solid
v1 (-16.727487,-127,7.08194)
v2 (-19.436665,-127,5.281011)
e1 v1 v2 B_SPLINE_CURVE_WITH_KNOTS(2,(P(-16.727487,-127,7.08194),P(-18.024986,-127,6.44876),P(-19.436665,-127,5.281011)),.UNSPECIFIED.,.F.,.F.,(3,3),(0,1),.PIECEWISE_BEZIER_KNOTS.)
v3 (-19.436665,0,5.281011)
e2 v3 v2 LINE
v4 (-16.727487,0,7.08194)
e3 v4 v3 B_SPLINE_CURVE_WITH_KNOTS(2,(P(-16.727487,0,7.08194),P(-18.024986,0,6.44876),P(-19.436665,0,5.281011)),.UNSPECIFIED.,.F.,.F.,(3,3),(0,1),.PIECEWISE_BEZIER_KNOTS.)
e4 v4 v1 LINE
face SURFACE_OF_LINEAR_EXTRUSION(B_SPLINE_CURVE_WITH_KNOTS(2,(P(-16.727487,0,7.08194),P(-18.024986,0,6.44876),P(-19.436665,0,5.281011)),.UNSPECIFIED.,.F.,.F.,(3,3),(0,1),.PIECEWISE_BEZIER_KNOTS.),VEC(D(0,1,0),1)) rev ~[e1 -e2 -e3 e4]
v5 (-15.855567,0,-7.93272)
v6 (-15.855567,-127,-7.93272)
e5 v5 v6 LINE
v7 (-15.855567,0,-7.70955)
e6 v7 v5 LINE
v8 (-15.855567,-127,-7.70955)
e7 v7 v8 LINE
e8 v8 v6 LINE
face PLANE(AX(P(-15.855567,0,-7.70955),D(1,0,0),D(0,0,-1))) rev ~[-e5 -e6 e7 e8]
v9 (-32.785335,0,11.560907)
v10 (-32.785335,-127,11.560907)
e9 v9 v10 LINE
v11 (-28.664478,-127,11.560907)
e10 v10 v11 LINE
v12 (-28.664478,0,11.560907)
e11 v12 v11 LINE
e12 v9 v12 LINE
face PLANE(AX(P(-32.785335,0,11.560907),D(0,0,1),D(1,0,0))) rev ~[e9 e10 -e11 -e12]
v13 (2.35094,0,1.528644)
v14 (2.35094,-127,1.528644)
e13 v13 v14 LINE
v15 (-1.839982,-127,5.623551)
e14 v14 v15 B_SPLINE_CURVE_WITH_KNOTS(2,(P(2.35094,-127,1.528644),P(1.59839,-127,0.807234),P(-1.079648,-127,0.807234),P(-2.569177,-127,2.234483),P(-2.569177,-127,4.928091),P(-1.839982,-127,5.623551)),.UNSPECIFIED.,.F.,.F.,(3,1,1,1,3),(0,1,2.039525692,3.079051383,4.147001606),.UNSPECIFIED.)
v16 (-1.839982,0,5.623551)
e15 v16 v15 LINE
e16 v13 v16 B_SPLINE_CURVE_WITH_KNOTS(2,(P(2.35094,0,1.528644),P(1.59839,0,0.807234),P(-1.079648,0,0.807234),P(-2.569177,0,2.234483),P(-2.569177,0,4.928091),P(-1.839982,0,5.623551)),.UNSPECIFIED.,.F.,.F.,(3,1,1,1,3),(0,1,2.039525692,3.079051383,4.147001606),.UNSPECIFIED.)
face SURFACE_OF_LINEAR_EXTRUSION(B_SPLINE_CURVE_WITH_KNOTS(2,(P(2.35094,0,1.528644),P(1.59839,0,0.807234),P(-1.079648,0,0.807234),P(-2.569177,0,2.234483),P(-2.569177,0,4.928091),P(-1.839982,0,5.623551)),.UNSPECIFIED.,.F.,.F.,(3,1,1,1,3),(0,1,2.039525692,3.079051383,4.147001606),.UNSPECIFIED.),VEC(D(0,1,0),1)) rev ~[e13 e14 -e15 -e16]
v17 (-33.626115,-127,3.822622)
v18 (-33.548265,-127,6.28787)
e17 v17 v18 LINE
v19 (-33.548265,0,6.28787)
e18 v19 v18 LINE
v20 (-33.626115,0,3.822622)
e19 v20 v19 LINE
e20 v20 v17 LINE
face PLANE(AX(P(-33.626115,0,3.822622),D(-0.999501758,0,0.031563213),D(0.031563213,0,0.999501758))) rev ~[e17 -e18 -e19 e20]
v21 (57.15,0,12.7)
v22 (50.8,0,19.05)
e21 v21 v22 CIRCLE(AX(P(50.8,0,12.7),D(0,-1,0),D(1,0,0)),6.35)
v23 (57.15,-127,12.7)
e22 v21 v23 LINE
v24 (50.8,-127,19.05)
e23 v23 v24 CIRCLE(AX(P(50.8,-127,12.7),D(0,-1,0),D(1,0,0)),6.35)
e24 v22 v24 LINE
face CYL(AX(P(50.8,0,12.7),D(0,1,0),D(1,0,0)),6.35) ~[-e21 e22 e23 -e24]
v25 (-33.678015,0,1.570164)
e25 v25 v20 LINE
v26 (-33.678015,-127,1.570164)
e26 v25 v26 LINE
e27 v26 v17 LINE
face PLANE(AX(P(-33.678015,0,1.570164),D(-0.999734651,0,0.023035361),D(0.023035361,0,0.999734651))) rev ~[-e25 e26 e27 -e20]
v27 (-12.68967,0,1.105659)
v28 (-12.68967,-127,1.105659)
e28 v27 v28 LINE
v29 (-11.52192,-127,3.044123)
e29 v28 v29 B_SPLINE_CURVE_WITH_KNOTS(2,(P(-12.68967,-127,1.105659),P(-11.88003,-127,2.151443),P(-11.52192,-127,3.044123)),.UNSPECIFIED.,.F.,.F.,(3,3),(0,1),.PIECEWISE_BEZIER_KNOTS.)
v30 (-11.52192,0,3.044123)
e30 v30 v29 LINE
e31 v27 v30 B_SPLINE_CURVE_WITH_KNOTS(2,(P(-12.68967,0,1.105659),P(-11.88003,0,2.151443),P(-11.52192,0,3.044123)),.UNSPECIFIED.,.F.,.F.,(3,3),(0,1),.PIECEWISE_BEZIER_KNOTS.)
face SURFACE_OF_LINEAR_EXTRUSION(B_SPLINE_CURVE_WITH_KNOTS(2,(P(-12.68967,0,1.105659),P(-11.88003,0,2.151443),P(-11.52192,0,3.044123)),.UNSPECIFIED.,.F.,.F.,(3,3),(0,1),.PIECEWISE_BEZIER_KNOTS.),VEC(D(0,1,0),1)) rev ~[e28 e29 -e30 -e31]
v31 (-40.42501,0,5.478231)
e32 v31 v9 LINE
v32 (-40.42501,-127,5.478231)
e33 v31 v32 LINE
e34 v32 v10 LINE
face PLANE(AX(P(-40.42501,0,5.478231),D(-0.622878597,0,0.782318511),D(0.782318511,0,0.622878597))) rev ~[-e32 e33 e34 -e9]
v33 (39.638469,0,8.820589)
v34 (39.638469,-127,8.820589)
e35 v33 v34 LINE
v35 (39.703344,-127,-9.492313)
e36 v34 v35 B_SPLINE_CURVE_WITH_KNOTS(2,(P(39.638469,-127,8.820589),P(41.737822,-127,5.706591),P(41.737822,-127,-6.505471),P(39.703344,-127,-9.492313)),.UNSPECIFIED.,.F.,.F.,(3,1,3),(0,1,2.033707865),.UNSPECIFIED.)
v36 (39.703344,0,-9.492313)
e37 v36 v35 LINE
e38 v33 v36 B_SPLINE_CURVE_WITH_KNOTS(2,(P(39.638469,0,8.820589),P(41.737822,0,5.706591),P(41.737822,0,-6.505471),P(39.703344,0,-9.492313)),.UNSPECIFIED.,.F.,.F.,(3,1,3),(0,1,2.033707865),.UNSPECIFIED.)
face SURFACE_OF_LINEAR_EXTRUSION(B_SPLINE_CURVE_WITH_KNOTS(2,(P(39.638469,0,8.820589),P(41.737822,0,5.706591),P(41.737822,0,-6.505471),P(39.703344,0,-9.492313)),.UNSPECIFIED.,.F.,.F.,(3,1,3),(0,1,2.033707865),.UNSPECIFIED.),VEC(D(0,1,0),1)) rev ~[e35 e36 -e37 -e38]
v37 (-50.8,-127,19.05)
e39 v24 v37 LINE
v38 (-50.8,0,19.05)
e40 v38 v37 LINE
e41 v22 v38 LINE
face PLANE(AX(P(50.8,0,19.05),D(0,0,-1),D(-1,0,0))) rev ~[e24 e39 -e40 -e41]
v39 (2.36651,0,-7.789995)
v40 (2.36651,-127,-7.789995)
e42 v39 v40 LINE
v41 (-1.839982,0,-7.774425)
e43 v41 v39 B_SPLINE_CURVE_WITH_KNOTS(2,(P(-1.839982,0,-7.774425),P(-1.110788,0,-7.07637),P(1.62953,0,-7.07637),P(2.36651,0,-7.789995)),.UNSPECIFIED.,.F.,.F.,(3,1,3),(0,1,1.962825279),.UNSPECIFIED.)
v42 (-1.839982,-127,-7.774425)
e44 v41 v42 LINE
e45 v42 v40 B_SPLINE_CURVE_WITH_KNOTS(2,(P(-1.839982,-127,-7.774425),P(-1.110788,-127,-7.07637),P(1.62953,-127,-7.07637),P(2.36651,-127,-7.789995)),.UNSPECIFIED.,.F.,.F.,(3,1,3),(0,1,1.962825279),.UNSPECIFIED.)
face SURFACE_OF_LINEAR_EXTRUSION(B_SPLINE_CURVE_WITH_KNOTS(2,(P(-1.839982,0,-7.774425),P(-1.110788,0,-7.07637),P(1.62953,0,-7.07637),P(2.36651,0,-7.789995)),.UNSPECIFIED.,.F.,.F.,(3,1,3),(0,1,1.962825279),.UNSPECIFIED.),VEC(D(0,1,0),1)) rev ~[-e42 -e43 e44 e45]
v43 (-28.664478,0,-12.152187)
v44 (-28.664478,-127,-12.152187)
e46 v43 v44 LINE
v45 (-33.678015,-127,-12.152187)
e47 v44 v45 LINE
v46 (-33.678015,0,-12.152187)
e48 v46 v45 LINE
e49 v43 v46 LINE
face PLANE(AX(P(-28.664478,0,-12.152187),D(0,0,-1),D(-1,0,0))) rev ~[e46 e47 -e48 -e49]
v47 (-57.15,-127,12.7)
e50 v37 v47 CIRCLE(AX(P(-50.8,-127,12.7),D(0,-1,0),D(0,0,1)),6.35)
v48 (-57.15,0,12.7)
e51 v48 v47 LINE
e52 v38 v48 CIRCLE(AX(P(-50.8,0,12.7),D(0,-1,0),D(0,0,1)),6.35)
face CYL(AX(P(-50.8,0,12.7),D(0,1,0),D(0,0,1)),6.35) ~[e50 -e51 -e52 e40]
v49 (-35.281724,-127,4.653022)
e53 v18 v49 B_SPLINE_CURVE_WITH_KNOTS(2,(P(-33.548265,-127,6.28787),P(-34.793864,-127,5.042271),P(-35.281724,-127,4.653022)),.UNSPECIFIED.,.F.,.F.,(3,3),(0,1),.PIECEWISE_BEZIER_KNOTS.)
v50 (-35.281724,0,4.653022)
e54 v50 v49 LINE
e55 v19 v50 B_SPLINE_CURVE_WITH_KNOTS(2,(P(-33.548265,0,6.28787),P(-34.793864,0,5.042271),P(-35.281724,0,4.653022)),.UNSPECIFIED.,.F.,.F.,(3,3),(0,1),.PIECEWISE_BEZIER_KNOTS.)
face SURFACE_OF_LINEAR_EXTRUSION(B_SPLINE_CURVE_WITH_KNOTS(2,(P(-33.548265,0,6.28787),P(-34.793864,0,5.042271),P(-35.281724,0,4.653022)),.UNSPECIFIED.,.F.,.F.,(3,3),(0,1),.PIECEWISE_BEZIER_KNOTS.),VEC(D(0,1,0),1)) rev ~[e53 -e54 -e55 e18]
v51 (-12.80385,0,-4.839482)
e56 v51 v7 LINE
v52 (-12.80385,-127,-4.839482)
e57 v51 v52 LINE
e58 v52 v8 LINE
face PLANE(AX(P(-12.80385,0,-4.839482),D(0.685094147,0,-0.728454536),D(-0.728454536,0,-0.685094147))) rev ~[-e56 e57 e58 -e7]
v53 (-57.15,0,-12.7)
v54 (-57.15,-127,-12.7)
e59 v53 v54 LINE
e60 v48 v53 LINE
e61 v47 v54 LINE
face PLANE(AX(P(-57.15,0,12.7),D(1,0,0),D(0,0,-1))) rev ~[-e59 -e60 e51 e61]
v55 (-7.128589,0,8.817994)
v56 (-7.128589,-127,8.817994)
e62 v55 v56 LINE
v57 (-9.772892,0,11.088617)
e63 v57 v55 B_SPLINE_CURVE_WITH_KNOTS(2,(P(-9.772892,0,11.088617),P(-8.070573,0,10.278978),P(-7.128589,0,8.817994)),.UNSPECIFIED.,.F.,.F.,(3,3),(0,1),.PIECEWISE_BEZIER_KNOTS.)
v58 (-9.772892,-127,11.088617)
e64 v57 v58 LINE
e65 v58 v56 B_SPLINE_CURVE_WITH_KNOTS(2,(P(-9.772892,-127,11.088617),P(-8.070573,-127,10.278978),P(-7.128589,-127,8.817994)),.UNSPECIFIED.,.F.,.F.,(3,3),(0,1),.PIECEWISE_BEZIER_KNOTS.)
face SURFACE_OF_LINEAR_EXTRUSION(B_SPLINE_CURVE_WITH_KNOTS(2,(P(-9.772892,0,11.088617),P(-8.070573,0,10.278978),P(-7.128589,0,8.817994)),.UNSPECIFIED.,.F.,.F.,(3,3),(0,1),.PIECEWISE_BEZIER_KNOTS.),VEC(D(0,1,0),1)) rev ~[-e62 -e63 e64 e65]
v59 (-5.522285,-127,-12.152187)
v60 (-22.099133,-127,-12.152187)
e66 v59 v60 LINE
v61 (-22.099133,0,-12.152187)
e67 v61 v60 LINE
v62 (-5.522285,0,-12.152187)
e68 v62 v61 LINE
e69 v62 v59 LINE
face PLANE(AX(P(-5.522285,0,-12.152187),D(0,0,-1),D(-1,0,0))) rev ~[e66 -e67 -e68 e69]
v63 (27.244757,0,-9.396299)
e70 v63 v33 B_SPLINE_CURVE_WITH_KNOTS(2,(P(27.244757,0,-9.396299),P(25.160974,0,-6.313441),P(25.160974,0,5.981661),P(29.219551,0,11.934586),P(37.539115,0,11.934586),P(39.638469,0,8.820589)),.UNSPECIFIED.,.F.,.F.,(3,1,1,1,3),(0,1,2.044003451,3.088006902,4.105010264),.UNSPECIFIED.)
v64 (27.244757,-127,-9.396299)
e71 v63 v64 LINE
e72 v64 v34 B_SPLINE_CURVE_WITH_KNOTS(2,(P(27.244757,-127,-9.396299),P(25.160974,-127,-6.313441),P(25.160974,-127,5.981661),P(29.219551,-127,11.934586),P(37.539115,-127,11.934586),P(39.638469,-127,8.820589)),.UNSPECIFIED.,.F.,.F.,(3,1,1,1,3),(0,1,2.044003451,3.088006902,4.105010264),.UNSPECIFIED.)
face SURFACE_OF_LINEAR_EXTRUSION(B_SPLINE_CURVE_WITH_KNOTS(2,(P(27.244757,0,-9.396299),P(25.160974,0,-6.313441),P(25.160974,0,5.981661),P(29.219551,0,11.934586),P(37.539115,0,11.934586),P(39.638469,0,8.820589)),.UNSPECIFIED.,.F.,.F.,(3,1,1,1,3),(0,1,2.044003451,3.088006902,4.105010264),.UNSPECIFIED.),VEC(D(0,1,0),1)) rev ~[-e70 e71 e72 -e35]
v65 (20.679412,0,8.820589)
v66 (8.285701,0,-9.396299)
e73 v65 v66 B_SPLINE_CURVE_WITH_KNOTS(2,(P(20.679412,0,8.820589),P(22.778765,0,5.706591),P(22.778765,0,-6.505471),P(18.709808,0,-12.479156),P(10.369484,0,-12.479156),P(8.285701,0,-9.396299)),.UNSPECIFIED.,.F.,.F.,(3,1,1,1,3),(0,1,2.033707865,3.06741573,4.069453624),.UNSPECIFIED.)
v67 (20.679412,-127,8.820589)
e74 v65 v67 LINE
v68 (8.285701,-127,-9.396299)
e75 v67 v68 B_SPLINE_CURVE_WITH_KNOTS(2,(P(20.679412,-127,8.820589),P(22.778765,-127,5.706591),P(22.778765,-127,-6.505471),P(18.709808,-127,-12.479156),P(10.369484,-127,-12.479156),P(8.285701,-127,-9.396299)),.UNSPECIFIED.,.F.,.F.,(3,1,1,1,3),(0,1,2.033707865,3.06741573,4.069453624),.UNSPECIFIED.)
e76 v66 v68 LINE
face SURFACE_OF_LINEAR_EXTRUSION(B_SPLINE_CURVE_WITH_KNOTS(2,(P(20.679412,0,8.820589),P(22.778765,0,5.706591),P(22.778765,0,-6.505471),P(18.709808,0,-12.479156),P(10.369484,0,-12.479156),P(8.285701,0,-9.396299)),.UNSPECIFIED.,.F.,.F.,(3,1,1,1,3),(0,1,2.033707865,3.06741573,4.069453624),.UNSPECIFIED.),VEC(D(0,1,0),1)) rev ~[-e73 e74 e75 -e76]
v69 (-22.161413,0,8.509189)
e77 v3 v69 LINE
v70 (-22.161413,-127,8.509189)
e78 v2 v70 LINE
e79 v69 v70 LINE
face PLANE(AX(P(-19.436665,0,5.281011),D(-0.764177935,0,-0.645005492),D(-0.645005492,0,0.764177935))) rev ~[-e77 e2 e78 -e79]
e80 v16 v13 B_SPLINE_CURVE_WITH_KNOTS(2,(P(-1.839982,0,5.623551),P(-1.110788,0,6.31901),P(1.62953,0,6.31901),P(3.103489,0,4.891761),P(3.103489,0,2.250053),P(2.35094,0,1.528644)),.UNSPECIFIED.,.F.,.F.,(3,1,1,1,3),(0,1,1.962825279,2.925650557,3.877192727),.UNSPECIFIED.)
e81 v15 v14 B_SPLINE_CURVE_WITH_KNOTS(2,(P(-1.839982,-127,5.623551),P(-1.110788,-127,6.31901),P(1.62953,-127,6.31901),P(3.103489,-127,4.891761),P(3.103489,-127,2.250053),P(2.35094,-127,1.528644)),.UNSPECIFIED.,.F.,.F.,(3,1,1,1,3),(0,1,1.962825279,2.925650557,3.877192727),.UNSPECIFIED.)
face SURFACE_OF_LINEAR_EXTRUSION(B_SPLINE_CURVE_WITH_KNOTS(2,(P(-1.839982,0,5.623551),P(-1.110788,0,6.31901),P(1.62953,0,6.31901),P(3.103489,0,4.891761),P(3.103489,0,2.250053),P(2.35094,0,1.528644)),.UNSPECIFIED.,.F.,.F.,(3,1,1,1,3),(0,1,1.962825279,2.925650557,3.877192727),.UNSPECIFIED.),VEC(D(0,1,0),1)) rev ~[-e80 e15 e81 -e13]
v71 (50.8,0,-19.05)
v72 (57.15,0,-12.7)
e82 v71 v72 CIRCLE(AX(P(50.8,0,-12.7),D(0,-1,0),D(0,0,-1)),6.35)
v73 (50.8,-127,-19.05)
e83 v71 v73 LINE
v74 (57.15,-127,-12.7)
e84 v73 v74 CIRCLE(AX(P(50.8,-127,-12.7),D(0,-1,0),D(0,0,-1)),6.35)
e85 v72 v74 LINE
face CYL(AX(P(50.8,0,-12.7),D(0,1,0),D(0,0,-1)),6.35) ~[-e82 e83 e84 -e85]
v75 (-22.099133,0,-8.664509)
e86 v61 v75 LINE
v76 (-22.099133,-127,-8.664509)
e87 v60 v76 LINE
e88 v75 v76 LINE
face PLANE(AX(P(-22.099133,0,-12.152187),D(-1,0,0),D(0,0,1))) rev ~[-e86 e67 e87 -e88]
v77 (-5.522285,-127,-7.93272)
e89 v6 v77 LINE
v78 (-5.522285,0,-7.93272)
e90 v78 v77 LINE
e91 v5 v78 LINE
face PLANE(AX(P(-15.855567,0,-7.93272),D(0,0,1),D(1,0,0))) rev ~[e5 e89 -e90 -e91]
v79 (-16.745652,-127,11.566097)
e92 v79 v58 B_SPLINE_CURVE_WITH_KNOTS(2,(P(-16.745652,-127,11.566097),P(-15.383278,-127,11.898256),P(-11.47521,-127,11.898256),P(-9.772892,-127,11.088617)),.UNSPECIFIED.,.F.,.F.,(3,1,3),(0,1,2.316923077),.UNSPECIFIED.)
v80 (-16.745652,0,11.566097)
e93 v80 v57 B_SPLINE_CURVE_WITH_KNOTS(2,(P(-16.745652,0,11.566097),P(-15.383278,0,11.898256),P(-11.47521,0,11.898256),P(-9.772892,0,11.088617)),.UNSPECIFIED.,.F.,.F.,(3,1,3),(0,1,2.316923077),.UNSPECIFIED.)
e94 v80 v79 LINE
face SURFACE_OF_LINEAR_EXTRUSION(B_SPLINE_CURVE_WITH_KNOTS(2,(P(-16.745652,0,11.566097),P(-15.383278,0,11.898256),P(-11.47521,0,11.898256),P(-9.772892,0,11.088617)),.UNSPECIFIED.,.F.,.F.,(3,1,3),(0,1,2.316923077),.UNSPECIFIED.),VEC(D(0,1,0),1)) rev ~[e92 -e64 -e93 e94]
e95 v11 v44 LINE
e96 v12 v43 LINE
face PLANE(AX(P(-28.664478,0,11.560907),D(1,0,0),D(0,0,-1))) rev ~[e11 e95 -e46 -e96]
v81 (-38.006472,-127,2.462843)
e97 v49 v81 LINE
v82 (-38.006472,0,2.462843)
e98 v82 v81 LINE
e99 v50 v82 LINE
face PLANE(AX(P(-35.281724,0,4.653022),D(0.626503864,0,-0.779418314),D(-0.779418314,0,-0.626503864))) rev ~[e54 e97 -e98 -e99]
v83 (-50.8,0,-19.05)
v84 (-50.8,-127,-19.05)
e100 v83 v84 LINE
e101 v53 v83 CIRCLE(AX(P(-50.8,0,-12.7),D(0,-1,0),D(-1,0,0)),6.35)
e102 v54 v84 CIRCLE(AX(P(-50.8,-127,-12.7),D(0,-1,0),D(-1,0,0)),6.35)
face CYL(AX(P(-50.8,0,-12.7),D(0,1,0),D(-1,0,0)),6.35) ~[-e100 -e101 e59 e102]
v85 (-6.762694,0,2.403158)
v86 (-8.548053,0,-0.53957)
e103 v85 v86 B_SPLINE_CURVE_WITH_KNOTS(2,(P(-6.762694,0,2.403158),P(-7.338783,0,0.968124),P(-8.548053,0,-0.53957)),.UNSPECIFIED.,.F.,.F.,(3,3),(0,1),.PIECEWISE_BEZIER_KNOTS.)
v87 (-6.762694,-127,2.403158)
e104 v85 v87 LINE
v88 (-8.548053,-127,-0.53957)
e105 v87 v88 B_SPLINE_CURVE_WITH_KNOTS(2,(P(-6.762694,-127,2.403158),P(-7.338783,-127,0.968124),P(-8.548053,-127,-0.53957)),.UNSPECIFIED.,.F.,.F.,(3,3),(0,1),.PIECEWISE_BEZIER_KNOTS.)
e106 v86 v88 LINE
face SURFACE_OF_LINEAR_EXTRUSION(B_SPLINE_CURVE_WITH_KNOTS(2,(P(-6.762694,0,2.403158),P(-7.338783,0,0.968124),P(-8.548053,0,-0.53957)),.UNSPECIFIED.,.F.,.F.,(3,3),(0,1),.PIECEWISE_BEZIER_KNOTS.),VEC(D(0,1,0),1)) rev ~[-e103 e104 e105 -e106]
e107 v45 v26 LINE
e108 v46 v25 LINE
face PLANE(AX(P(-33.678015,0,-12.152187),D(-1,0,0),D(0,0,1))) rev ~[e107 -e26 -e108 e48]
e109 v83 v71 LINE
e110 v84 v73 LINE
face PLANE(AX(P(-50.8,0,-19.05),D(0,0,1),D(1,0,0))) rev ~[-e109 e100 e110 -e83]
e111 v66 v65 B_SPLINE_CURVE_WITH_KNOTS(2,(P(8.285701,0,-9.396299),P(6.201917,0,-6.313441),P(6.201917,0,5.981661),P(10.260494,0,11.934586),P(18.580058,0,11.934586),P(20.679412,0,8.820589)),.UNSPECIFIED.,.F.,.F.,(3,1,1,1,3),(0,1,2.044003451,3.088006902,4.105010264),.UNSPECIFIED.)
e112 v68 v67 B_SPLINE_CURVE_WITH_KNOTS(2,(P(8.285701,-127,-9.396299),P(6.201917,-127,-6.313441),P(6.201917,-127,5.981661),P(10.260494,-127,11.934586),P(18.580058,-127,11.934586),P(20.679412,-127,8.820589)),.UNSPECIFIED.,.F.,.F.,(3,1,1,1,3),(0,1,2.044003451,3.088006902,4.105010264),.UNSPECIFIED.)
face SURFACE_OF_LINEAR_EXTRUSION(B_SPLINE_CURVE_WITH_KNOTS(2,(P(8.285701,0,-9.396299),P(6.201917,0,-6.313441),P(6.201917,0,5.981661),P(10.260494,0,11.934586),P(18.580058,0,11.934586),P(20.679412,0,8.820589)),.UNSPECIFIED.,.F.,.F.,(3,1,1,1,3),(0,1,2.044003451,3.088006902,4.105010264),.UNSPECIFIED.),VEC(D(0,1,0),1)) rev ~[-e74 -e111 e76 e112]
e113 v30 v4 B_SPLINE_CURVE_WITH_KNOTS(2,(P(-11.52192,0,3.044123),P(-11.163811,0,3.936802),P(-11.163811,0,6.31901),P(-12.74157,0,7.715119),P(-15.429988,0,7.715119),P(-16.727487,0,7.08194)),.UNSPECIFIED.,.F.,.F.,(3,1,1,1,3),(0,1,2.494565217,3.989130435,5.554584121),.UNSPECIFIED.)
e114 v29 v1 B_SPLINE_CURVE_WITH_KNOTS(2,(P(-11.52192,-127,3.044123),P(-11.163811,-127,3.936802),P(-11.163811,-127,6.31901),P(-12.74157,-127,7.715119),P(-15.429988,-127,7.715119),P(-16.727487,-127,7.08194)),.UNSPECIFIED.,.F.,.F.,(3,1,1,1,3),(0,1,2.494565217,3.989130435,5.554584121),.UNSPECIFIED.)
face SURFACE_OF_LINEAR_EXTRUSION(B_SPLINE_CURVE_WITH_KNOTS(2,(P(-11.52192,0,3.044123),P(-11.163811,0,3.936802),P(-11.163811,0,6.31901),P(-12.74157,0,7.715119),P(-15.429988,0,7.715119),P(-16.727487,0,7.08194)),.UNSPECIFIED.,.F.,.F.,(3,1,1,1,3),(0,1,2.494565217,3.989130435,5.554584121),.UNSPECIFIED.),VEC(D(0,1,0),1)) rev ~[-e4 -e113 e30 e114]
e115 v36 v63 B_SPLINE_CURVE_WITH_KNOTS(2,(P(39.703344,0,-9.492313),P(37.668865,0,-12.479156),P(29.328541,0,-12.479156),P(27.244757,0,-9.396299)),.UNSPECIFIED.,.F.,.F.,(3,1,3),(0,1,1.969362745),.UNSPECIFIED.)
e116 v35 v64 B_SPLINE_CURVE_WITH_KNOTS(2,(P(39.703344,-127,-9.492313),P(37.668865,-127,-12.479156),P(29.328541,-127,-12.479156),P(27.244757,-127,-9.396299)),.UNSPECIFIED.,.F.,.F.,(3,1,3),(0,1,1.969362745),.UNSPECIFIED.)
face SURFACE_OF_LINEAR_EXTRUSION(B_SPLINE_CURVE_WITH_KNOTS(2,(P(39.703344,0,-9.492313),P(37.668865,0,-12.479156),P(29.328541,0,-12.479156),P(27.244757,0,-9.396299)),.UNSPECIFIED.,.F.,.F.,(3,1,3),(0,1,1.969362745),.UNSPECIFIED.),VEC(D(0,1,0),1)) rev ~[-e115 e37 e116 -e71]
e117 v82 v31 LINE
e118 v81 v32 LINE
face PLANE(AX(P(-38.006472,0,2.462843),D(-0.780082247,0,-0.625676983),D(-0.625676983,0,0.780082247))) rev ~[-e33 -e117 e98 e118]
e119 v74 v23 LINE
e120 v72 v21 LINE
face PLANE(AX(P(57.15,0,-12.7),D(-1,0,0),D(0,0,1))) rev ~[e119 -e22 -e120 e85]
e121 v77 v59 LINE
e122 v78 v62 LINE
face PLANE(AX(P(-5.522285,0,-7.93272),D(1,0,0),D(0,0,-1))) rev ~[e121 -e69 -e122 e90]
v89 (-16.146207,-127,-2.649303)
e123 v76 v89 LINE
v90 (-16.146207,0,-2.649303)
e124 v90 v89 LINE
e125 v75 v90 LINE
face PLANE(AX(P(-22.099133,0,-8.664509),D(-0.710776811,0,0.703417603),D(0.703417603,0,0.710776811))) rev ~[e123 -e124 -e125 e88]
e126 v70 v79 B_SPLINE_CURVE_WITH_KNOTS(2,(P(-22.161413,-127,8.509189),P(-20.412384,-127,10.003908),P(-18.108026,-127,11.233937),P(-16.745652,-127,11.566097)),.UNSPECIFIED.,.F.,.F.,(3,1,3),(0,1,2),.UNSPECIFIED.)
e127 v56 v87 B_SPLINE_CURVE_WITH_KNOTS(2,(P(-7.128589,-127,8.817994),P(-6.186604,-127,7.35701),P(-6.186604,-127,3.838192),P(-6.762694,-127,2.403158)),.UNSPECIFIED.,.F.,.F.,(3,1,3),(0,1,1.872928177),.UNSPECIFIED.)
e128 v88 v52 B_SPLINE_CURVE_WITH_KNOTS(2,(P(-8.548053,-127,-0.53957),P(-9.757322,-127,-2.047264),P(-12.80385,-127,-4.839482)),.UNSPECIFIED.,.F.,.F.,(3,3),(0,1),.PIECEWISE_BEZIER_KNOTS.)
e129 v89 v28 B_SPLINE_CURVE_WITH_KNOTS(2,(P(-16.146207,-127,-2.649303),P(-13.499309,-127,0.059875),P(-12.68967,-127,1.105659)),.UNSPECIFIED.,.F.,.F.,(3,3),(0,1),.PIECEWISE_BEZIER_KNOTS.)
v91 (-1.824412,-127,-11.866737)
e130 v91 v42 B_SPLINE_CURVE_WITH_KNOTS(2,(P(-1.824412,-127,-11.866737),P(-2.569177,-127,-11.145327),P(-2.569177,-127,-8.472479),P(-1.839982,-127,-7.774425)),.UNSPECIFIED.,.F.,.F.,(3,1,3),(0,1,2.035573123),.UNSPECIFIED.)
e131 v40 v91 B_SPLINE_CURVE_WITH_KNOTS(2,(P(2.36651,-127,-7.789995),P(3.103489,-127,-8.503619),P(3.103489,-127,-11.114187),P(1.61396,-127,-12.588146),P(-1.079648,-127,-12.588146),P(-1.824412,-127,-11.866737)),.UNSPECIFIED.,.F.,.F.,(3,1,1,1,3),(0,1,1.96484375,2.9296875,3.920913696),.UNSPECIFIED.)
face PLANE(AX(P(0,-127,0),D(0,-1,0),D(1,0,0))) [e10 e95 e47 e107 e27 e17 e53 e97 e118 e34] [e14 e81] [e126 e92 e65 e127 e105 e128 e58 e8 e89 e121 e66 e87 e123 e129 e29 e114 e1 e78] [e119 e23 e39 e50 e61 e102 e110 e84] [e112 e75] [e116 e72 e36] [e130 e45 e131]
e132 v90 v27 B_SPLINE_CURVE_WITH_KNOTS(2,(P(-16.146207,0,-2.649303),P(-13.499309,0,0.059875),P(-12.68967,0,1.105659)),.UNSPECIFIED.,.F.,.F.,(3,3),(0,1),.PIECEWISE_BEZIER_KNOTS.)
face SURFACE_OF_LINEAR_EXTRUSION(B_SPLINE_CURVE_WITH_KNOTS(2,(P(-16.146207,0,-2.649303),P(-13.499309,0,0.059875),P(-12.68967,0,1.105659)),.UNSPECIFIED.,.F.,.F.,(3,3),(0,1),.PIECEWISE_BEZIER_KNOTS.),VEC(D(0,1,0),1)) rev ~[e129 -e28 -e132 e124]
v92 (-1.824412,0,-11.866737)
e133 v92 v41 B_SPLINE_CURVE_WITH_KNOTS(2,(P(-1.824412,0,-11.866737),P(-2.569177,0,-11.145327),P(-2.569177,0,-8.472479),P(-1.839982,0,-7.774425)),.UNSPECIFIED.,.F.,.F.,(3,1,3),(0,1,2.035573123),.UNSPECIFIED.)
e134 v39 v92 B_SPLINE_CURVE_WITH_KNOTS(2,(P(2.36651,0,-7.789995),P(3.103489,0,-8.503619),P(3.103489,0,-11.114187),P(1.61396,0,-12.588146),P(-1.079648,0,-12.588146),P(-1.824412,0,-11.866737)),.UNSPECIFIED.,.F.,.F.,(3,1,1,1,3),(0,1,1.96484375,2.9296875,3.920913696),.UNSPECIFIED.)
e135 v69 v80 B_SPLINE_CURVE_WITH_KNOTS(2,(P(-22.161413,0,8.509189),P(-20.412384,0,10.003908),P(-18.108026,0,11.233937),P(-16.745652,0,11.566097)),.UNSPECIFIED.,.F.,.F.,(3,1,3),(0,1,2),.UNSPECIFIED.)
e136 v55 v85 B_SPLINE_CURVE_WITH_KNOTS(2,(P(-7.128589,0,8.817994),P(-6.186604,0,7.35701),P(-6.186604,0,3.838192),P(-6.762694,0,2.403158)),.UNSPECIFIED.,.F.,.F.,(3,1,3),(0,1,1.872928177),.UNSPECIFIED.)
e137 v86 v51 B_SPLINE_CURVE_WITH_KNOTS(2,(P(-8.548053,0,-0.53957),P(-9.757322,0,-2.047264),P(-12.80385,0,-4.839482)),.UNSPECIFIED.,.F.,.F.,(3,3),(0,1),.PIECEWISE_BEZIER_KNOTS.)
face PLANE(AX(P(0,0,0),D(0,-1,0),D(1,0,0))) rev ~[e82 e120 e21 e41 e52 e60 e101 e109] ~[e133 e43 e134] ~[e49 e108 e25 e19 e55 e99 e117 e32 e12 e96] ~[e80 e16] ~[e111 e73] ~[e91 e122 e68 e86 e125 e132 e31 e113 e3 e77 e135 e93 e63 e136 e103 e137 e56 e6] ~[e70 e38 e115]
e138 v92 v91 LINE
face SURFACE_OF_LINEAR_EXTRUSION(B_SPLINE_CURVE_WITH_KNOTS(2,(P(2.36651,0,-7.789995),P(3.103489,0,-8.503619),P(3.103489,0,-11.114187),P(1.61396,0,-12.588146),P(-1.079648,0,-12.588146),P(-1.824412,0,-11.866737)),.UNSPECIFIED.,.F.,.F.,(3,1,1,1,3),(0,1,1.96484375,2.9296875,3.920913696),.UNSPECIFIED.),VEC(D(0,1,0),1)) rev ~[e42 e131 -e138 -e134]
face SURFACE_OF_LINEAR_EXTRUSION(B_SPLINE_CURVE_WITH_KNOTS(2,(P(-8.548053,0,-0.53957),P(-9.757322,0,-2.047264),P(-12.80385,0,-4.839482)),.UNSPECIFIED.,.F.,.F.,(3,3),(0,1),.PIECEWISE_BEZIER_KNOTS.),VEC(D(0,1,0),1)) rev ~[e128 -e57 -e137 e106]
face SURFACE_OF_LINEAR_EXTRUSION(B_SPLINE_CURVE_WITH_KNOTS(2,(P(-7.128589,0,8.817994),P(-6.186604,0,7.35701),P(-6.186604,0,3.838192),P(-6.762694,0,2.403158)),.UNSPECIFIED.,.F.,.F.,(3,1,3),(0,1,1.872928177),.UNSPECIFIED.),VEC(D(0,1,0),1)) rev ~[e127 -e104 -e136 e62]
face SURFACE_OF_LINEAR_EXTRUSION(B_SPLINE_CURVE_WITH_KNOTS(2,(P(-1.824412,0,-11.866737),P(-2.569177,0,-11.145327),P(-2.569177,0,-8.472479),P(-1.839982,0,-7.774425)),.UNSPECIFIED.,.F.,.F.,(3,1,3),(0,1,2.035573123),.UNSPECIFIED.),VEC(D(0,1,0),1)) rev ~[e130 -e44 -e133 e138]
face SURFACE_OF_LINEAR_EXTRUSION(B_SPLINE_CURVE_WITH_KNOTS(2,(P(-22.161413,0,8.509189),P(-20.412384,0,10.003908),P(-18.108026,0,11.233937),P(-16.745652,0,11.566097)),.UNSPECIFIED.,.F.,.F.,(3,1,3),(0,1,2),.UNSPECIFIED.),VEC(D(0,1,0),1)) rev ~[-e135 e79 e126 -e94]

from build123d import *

# Parameters (mm, degrees)
F1_DEPTH = 127


with BuildPart() as f1:
    # F0 (on Front) → F1 (new body)
    with BuildSketch(Plane.XZ):
        with BuildLine():
            ThreePointArc((57.15, 12.7), (55.2901280605, 17.1901280605), (50.8, 19.05))
            Line((50.8, 19.05), (-50.8, 19.05))
            ThreePointArc((-50.8, 19.05), (-55.2901280605, 17.1901280605), (-57.15, 12.7))
            Line((-57.15, 12.7), (-57.15, -12.7))
            ThreePointArc((-57.15, -12.7), (-55.2901280605, -17.1901280605), (-50.8, -19.05))
            Line((-50.8, -19.05), (50.8, -19.05))
            ThreePointArc((50.8, -19.05), (55.2901280605, -17.1901280605), (57.15, -12.7))
            Line((57.15, -12.7), (57.15, 12.7))
        make_face()
        with BuildLine():
            Line((-28.6644783725, 11.5609067216), (-28.6644783725, -12.1521865949))
            Line((-28.6644783725, -12.1521865949), (-33.6780148452, -12.1521865949))
            Line((-33.6780148452, -12.1521865949), (-33.6780148452, 1.5701637506))
            Line((-33.6780148452, 1.5701637506), (-33.6261148817, 3.8226221659))
            Line((-33.6261148817, 3.8226221659), (-33.5482649364, 6.2878704315))
            add(Edge.make_bspline(
                [(-33.5482649364, 6.2878704315), (-34.7938640601, 5.0422713078), (-35.2817237169, 4.6530215817)],
                knots=[0, 0, 0, 1, 1, 1], degree=2))
            Line((-35.2817237169, 4.6530215817), (-38.0064717998, 2.4628431226))
            Line((-38.0064717998, 2.4628431226), (-40.4250100983, 5.4782310011))
            Line((-40.4250100983, 5.4782310011), (-32.7853354732, 11.5609067216))
            Line((-32.7853354732, 11.5609067216), (-28.6644783725, 11.5609067216))
        make_face(mode=Mode.SUBTRACT)
        with BuildLine():
            Line((-5.5222846543, -7.9327195635), (-5.5222846543, -12.1521865949))
            Line((-5.5222846543, -12.1521865949), (-22.0991329916, -12.1521865949))
            Line((-22.0991329916, -12.1521865949), (-22.0991329916, -8.6645090487))
            Line((-22.0991329916, -8.6645090487), (-16.1462071798, -2.6493032807))
            add(Edge.make_bspline(
                [(-16.1462071798, -2.6493032807), (-13.499309042, 0.0598748132), (-12.6896696117, 1.1056590774)],
                knots=[0, 0, 0, 1, 1, 1], degree=2))
            add(Edge.make_bspline(
                [(-12.6896696117, 1.1056590774), (-11.8800301813, 2.1514433417), (-11.5219204332, 3.0441227136)],
                knots=[0, 0, 0, 1, 1, 1], degree=2))
            add(Edge.make_bspline(
                [(-11.5219204332, 3.0441227136), (-11.1638106852, 3.9368020856), (-11.1638106852, 4.8917614137)],
                knots=[0, 0, 0, 1, 1, 1], degree=2))
            add(Edge.make_bspline(
                [(-11.1638106852, 4.8917614137), (-11.1638106852, 6.3190104095), (-11.9526901302, 7.0170649184)],
                knots=[0, 0, 0, 1, 1, 1], degree=2))
            add(Edge.make_bspline(
                [(-11.9526901302, 7.0170649184), (-12.7415695752, 7.7151194273), (-14.0546386513, 7.7151194273)],
                knots=[0, 0, 0, 1, 1, 1], degree=2))
            add(Edge.make_bspline(
                [(-14.0546386513, 7.7151194273), (-15.4299876837, 7.7151194273), (-16.7274867708, 7.0819398728)],
                knots=[0, 0, 0, 1, 1, 1], degree=2))
            add(Edge.make_bspline(
                [(-16.7274867708, 7.0819398728), (-18.024985858, 6.4487603183), (-19.4366648648, 5.2810111398)],
                knots=[0, 0, 0, 1, 1, 1], degree=2))
            Line((-19.4366648648, 5.2810111398), (-22.1614129478, 8.5091888686))
            add(Edge.make_bspline(
                [(-22.1614129478, 8.5091888686), (-20.4123841783, 10.003907817), (-19.2602049889, 10.6189223843)],
                knots=[0, 0, 0, 1, 1, 1], degree=2))
            add(Edge.make_bspline(
                [(-19.2602049889, 10.6189223843), (-18.1080257995, 11.2339369516), (-16.7456517581, 11.5660967179)],
                knots=[0, 0, 0, 1, 1, 1], degree=2))
            add(Edge.make_bspline(
                [(-16.7456517581, 11.5660967179), (-15.3832777166, 11.8982564842), (-13.6965289033, 11.8982564842)],
                knots=[0, 0, 0, 1, 1, 1], degree=2))
            add(Edge.make_bspline(
                [(-13.6965289033, 11.8982564842), (-11.4752104661, 11.8982564842), (-9.7728916638, 11.0886170539)],
                knots=[0, 0, 0, 1, 1, 1], degree=2))
            add(Edge.make_bspline(
                [(-9.7728916638, 11.0886170539), (-8.0705728615, 10.2789776235), (-7.1285885242, 8.8179936514)],
                knots=[0, 0, 0, 1, 1, 1], degree=2))
            add(Edge.make_bspline(
                [(-7.1285885242, 8.8179936514), (-6.186604187, 7.3570096793), (-6.186604187, 5.4782310011)],
                knots=[0, 0, 0, 1, 1, 1], degree=2))
            add(Edge.make_bspline(
                [(-6.186604187, 5.4782310011), (-6.186604187, 3.8381921549), (-6.7626937816, 2.4031581646)],
                knots=[0, 0, 0, 1, 1, 1], degree=2))
            add(Edge.make_bspline(
                [(-6.7626937816, 2.4031581646), (-7.3387833763, 0.9681241742), (-8.5480525255, -0.539569765)],
                knots=[0, 0, 0, 1, 1, 1], degree=2))
            add(Edge.make_bspline(
                [(-8.5480525255, -0.539569765), (-9.7573216747, -2.0472637043), (-12.8038495313, -4.8394817398)],
                knots=[0, 0, 0, 1, 1, 1], degree=2))
            Line((-12.8038495313, -4.8394817398), (-15.8555673843, -7.7095497206))
            Line((-15.8555673843, -7.7095497206), (-15.8555673843, -7.9327195635))
            Line((-15.8555673843, -7.9327195635), (-5.5222846543, -7.9327195635))
        make_face(mode=Mode.SUBTRACT)
        with BuildLine():
            add(Edge.make_bspline(
                [(-1.824412256, -11.8667367957), (-2.569176732, -11.1453273033), (-2.569176732, -9.8322582271)],
                knots=[0, 0, 0, 1, 1, 1], degree=2))
            add(Edge.make_bspline(
                [(-2.569176732, -9.8322582271), (-2.569176732, -8.4724791838), (-1.839982245, -7.7744246749)],
                knots=[0, 0, 0, 1, 1, 1], degree=2))
            add(Edge.make_bspline(
                [(-1.839982245, -7.7744246749), (-1.1107877581, -7.076370166), (0.2853212597, -7.076370166)],
                knots=[0, 0, 0, 1, 1, 1], degree=2))
            add(Edge.make_bspline(
                [(0.2853212597, -7.076370166), (1.6295303139, -7.076370166), (2.3665097954, -7.789994664)],
                knots=[0, 0, 0, 1, 1, 1], degree=2))
            add(Edge.make_bspline(
                [(2.3665097954, -7.789994664), (3.1034892769, -8.5036191619), (3.1034892769, -9.8322582271)],
                knots=[0, 0, 0, 1, 1, 1], degree=2))
            add(Edge.make_bspline(
                [(3.1034892769, -9.8322582271), (3.1034892769, -11.1141873252), (2.3587248009, -11.8511668067)],
                knots=[0, 0, 0, 1, 1, 1], degree=2))
            add(Edge.make_bspline(
                [(2.3587248009, -11.8511668067), (1.6139603249, -12.5881462882), (0.2853212597, -12.5881462882)],
                knots=[0, 0, 0, 1, 1, 1], degree=2))
            add(Edge.make_bspline(
                [(0.2853212597, -12.5881462882), (-1.07964778, -12.5881462882), (-1.824412256, -11.8667367957)],
                knots=[0, 0, 0, 1, 1, 1], degree=2))
        make_face(mode=Mode.SUBTRACT)
        with BuildLine():
            add(Edge.make_bspline(
                [(20.6794119113, 8.8205886495), (22.7787654342, 5.7065908404), (22.7787654342, -0.2982349348)],
                knots=[0, 0, 0, 1, 1, 1], degree=2))
            add(Edge.make_bspline(
                [(22.7787654342, -0.2982349348), (22.7787654342, -6.5054705677), (20.7442868656, -9.4923134663)],
                knots=[0, 0, 0, 1, 1, 1], degree=2))
            add(Edge.make_bspline(
                [(20.7442868656, -9.4923134663), (18.709808297, -12.4791563649), (14.4747712766, -12.4791563649)],
                knots=[0, 0, 0, 1, 1, 1], degree=2))
            add(Edge.make_bspline(
                [(14.4747712766, -12.4791563649), (10.3694841649, -12.4791563649), (8.2857006309, -9.3962985338)],
                knots=[0, 0, 0, 1, 1, 1], degree=2))
            add(Edge.make_bspline(
                [(8.2857006309, -9.3962985338), (6.201917097, -6.3134407028), (6.201917097, -0.2982349348)],
                knots=[0, 0, 0, 1, 1, 1], degree=2))
            add(Edge.make_bspline(
                [(6.201917097, -0.2982349348), (6.201917097, 5.9816606469), (8.2312056693, 8.9581235528)],
                knots=[0, 0, 0, 1, 1, 1], degree=2))
            add(Edge.make_bspline(
                [(8.2312056693, 8.9581235528), (10.2604942416, 11.9345864587), (14.4747712766, 11.9345864587)],
                knots=[0, 0, 0, 1, 1, 1], degree=2))
            add(Edge.make_bspline(
                [(14.4747712766, 11.9345864587), (18.5800583883, 11.9345864587), (20.6794119113, 8.8205886495)],
                knots=[0, 0, 0, 1, 1, 1], degree=2))
        make_face(mode=Mode.SUBTRACT)
        with BuildLine():
            add(Edge.make_bspline(
                [(39.6384685725, 8.8205886495), (41.7378220955, 5.7065908404), (41.7378220955, -0.2982349348)],
                knots=[0, 0, 0, 1, 1, 1], degree=2))
            add(Edge.make_bspline(
                [(41.7378220955, -0.2982349348), (41.7378220955, -6.5054705677), (39.7033435268, -9.4923134663)],
                knots=[0, 0, 0, 1, 1, 1], degree=2))
            add(Edge.make_bspline(
                [(39.7033435268, -9.4923134663), (37.6688649582, -12.4791563649), (33.4338279378, -12.4791563649)],
                knots=[0, 0, 0, 1, 1, 1], degree=2))
            add(Edge.make_bspline(
                [(33.4338279378, -12.4791563649), (29.3285408261, -12.4791563649), (27.2447572922, -9.3962985338)],
                knots=[0, 0, 0, 1, 1, 1], degree=2))
            add(Edge.make_bspline(
                [(27.2447572922, -9.3962985338), (25.1609737582, -6.3134407028), (25.1609737582, -0.2982349348)],
                knots=[0, 0, 0, 1, 1, 1], degree=2))
            add(Edge.make_bspline(
                [(25.1609737582, -0.2982349348), (25.1609737582, 5.9816606469), (27.1902623305, 8.9581235528)],
                knots=[0, 0, 0, 1, 1, 1], degree=2))
            add(Edge.make_bspline(
                [(27.1902623305, 8.9581235528), (29.2195509028, 11.9345864587), (33.4338279378, 11.9345864587)],
                knots=[0, 0, 0, 1, 1, 1], degree=2))
            add(Edge.make_bspline(
                [(33.4338279378, 11.9345864587), (37.5391150495, 11.9345864587), (39.6384685725, 8.8205886495)],
                knots=[0, 0, 0, 1, 1, 1], degree=2))
        make_face(mode=Mode.SUBTRACT)
        with BuildLine():
            add(Edge.make_bspline(
                [(-1.824412256, 1.5208587853), (-2.569176732, 2.2344832832), (-2.569176732, 3.5631223485)],
                knots=[0, 0, 0, 1, 1, 1], degree=2))
            add(Edge.make_bspline(
                [(-2.569176732, 3.5631223485), (-2.569176732, 4.9280913881), (-1.839982245, 5.6235508988)],
                knots=[0, 0, 0, 1, 1, 1], degree=2))
            add(Edge.make_bspline(
                [(-1.839982245, 5.6235508988), (-1.1107877581, 6.3190104095), (0.2853212597, 6.3190104095)],
                knots=[0, 0, 0, 1, 1, 1], degree=2))
            add(Edge.make_bspline(
                [(0.2853212597, 6.3190104095), (1.6295303139, 6.3190104095), (2.3665097954, 5.6053859116)],
                knots=[0, 0, 0, 1, 1, 1], degree=2))
            add(Edge.make_bspline(
                [(2.3665097954, 5.6053859116), (3.1034892769, 4.8917614137), (3.1034892769, 3.5631223485)],
                knots=[0, 0, 0, 1, 1, 1], degree=2))
            add(Edge.make_bspline(
                [(3.1034892769, 3.5631223485), (3.1034892769, 2.2500532723), (2.3509398064, 1.5286437798)],
                knots=[0, 0, 0, 1, 1, 1], degree=2))
            add(Edge.make_bspline(
                [(2.3509398064, 1.5286437798), (1.5983903359, 0.8072342874), (0.2853212597, 0.8072342874)],
                knots=[0, 0, 0, 1, 1, 1], degree=2))
            add(Edge.make_bspline(
                [(0.2853212597, 0.8072342874), (-1.07964778, 0.8072342874), (-1.824412256, 1.5208587853)],
                knots=[0, 0, 0, 1, 1, 1], degree=2))
        make_face(mode=Mode.SUBTRACT)
    extrude(amount=F1_DEPTH)


solid = f1.part
